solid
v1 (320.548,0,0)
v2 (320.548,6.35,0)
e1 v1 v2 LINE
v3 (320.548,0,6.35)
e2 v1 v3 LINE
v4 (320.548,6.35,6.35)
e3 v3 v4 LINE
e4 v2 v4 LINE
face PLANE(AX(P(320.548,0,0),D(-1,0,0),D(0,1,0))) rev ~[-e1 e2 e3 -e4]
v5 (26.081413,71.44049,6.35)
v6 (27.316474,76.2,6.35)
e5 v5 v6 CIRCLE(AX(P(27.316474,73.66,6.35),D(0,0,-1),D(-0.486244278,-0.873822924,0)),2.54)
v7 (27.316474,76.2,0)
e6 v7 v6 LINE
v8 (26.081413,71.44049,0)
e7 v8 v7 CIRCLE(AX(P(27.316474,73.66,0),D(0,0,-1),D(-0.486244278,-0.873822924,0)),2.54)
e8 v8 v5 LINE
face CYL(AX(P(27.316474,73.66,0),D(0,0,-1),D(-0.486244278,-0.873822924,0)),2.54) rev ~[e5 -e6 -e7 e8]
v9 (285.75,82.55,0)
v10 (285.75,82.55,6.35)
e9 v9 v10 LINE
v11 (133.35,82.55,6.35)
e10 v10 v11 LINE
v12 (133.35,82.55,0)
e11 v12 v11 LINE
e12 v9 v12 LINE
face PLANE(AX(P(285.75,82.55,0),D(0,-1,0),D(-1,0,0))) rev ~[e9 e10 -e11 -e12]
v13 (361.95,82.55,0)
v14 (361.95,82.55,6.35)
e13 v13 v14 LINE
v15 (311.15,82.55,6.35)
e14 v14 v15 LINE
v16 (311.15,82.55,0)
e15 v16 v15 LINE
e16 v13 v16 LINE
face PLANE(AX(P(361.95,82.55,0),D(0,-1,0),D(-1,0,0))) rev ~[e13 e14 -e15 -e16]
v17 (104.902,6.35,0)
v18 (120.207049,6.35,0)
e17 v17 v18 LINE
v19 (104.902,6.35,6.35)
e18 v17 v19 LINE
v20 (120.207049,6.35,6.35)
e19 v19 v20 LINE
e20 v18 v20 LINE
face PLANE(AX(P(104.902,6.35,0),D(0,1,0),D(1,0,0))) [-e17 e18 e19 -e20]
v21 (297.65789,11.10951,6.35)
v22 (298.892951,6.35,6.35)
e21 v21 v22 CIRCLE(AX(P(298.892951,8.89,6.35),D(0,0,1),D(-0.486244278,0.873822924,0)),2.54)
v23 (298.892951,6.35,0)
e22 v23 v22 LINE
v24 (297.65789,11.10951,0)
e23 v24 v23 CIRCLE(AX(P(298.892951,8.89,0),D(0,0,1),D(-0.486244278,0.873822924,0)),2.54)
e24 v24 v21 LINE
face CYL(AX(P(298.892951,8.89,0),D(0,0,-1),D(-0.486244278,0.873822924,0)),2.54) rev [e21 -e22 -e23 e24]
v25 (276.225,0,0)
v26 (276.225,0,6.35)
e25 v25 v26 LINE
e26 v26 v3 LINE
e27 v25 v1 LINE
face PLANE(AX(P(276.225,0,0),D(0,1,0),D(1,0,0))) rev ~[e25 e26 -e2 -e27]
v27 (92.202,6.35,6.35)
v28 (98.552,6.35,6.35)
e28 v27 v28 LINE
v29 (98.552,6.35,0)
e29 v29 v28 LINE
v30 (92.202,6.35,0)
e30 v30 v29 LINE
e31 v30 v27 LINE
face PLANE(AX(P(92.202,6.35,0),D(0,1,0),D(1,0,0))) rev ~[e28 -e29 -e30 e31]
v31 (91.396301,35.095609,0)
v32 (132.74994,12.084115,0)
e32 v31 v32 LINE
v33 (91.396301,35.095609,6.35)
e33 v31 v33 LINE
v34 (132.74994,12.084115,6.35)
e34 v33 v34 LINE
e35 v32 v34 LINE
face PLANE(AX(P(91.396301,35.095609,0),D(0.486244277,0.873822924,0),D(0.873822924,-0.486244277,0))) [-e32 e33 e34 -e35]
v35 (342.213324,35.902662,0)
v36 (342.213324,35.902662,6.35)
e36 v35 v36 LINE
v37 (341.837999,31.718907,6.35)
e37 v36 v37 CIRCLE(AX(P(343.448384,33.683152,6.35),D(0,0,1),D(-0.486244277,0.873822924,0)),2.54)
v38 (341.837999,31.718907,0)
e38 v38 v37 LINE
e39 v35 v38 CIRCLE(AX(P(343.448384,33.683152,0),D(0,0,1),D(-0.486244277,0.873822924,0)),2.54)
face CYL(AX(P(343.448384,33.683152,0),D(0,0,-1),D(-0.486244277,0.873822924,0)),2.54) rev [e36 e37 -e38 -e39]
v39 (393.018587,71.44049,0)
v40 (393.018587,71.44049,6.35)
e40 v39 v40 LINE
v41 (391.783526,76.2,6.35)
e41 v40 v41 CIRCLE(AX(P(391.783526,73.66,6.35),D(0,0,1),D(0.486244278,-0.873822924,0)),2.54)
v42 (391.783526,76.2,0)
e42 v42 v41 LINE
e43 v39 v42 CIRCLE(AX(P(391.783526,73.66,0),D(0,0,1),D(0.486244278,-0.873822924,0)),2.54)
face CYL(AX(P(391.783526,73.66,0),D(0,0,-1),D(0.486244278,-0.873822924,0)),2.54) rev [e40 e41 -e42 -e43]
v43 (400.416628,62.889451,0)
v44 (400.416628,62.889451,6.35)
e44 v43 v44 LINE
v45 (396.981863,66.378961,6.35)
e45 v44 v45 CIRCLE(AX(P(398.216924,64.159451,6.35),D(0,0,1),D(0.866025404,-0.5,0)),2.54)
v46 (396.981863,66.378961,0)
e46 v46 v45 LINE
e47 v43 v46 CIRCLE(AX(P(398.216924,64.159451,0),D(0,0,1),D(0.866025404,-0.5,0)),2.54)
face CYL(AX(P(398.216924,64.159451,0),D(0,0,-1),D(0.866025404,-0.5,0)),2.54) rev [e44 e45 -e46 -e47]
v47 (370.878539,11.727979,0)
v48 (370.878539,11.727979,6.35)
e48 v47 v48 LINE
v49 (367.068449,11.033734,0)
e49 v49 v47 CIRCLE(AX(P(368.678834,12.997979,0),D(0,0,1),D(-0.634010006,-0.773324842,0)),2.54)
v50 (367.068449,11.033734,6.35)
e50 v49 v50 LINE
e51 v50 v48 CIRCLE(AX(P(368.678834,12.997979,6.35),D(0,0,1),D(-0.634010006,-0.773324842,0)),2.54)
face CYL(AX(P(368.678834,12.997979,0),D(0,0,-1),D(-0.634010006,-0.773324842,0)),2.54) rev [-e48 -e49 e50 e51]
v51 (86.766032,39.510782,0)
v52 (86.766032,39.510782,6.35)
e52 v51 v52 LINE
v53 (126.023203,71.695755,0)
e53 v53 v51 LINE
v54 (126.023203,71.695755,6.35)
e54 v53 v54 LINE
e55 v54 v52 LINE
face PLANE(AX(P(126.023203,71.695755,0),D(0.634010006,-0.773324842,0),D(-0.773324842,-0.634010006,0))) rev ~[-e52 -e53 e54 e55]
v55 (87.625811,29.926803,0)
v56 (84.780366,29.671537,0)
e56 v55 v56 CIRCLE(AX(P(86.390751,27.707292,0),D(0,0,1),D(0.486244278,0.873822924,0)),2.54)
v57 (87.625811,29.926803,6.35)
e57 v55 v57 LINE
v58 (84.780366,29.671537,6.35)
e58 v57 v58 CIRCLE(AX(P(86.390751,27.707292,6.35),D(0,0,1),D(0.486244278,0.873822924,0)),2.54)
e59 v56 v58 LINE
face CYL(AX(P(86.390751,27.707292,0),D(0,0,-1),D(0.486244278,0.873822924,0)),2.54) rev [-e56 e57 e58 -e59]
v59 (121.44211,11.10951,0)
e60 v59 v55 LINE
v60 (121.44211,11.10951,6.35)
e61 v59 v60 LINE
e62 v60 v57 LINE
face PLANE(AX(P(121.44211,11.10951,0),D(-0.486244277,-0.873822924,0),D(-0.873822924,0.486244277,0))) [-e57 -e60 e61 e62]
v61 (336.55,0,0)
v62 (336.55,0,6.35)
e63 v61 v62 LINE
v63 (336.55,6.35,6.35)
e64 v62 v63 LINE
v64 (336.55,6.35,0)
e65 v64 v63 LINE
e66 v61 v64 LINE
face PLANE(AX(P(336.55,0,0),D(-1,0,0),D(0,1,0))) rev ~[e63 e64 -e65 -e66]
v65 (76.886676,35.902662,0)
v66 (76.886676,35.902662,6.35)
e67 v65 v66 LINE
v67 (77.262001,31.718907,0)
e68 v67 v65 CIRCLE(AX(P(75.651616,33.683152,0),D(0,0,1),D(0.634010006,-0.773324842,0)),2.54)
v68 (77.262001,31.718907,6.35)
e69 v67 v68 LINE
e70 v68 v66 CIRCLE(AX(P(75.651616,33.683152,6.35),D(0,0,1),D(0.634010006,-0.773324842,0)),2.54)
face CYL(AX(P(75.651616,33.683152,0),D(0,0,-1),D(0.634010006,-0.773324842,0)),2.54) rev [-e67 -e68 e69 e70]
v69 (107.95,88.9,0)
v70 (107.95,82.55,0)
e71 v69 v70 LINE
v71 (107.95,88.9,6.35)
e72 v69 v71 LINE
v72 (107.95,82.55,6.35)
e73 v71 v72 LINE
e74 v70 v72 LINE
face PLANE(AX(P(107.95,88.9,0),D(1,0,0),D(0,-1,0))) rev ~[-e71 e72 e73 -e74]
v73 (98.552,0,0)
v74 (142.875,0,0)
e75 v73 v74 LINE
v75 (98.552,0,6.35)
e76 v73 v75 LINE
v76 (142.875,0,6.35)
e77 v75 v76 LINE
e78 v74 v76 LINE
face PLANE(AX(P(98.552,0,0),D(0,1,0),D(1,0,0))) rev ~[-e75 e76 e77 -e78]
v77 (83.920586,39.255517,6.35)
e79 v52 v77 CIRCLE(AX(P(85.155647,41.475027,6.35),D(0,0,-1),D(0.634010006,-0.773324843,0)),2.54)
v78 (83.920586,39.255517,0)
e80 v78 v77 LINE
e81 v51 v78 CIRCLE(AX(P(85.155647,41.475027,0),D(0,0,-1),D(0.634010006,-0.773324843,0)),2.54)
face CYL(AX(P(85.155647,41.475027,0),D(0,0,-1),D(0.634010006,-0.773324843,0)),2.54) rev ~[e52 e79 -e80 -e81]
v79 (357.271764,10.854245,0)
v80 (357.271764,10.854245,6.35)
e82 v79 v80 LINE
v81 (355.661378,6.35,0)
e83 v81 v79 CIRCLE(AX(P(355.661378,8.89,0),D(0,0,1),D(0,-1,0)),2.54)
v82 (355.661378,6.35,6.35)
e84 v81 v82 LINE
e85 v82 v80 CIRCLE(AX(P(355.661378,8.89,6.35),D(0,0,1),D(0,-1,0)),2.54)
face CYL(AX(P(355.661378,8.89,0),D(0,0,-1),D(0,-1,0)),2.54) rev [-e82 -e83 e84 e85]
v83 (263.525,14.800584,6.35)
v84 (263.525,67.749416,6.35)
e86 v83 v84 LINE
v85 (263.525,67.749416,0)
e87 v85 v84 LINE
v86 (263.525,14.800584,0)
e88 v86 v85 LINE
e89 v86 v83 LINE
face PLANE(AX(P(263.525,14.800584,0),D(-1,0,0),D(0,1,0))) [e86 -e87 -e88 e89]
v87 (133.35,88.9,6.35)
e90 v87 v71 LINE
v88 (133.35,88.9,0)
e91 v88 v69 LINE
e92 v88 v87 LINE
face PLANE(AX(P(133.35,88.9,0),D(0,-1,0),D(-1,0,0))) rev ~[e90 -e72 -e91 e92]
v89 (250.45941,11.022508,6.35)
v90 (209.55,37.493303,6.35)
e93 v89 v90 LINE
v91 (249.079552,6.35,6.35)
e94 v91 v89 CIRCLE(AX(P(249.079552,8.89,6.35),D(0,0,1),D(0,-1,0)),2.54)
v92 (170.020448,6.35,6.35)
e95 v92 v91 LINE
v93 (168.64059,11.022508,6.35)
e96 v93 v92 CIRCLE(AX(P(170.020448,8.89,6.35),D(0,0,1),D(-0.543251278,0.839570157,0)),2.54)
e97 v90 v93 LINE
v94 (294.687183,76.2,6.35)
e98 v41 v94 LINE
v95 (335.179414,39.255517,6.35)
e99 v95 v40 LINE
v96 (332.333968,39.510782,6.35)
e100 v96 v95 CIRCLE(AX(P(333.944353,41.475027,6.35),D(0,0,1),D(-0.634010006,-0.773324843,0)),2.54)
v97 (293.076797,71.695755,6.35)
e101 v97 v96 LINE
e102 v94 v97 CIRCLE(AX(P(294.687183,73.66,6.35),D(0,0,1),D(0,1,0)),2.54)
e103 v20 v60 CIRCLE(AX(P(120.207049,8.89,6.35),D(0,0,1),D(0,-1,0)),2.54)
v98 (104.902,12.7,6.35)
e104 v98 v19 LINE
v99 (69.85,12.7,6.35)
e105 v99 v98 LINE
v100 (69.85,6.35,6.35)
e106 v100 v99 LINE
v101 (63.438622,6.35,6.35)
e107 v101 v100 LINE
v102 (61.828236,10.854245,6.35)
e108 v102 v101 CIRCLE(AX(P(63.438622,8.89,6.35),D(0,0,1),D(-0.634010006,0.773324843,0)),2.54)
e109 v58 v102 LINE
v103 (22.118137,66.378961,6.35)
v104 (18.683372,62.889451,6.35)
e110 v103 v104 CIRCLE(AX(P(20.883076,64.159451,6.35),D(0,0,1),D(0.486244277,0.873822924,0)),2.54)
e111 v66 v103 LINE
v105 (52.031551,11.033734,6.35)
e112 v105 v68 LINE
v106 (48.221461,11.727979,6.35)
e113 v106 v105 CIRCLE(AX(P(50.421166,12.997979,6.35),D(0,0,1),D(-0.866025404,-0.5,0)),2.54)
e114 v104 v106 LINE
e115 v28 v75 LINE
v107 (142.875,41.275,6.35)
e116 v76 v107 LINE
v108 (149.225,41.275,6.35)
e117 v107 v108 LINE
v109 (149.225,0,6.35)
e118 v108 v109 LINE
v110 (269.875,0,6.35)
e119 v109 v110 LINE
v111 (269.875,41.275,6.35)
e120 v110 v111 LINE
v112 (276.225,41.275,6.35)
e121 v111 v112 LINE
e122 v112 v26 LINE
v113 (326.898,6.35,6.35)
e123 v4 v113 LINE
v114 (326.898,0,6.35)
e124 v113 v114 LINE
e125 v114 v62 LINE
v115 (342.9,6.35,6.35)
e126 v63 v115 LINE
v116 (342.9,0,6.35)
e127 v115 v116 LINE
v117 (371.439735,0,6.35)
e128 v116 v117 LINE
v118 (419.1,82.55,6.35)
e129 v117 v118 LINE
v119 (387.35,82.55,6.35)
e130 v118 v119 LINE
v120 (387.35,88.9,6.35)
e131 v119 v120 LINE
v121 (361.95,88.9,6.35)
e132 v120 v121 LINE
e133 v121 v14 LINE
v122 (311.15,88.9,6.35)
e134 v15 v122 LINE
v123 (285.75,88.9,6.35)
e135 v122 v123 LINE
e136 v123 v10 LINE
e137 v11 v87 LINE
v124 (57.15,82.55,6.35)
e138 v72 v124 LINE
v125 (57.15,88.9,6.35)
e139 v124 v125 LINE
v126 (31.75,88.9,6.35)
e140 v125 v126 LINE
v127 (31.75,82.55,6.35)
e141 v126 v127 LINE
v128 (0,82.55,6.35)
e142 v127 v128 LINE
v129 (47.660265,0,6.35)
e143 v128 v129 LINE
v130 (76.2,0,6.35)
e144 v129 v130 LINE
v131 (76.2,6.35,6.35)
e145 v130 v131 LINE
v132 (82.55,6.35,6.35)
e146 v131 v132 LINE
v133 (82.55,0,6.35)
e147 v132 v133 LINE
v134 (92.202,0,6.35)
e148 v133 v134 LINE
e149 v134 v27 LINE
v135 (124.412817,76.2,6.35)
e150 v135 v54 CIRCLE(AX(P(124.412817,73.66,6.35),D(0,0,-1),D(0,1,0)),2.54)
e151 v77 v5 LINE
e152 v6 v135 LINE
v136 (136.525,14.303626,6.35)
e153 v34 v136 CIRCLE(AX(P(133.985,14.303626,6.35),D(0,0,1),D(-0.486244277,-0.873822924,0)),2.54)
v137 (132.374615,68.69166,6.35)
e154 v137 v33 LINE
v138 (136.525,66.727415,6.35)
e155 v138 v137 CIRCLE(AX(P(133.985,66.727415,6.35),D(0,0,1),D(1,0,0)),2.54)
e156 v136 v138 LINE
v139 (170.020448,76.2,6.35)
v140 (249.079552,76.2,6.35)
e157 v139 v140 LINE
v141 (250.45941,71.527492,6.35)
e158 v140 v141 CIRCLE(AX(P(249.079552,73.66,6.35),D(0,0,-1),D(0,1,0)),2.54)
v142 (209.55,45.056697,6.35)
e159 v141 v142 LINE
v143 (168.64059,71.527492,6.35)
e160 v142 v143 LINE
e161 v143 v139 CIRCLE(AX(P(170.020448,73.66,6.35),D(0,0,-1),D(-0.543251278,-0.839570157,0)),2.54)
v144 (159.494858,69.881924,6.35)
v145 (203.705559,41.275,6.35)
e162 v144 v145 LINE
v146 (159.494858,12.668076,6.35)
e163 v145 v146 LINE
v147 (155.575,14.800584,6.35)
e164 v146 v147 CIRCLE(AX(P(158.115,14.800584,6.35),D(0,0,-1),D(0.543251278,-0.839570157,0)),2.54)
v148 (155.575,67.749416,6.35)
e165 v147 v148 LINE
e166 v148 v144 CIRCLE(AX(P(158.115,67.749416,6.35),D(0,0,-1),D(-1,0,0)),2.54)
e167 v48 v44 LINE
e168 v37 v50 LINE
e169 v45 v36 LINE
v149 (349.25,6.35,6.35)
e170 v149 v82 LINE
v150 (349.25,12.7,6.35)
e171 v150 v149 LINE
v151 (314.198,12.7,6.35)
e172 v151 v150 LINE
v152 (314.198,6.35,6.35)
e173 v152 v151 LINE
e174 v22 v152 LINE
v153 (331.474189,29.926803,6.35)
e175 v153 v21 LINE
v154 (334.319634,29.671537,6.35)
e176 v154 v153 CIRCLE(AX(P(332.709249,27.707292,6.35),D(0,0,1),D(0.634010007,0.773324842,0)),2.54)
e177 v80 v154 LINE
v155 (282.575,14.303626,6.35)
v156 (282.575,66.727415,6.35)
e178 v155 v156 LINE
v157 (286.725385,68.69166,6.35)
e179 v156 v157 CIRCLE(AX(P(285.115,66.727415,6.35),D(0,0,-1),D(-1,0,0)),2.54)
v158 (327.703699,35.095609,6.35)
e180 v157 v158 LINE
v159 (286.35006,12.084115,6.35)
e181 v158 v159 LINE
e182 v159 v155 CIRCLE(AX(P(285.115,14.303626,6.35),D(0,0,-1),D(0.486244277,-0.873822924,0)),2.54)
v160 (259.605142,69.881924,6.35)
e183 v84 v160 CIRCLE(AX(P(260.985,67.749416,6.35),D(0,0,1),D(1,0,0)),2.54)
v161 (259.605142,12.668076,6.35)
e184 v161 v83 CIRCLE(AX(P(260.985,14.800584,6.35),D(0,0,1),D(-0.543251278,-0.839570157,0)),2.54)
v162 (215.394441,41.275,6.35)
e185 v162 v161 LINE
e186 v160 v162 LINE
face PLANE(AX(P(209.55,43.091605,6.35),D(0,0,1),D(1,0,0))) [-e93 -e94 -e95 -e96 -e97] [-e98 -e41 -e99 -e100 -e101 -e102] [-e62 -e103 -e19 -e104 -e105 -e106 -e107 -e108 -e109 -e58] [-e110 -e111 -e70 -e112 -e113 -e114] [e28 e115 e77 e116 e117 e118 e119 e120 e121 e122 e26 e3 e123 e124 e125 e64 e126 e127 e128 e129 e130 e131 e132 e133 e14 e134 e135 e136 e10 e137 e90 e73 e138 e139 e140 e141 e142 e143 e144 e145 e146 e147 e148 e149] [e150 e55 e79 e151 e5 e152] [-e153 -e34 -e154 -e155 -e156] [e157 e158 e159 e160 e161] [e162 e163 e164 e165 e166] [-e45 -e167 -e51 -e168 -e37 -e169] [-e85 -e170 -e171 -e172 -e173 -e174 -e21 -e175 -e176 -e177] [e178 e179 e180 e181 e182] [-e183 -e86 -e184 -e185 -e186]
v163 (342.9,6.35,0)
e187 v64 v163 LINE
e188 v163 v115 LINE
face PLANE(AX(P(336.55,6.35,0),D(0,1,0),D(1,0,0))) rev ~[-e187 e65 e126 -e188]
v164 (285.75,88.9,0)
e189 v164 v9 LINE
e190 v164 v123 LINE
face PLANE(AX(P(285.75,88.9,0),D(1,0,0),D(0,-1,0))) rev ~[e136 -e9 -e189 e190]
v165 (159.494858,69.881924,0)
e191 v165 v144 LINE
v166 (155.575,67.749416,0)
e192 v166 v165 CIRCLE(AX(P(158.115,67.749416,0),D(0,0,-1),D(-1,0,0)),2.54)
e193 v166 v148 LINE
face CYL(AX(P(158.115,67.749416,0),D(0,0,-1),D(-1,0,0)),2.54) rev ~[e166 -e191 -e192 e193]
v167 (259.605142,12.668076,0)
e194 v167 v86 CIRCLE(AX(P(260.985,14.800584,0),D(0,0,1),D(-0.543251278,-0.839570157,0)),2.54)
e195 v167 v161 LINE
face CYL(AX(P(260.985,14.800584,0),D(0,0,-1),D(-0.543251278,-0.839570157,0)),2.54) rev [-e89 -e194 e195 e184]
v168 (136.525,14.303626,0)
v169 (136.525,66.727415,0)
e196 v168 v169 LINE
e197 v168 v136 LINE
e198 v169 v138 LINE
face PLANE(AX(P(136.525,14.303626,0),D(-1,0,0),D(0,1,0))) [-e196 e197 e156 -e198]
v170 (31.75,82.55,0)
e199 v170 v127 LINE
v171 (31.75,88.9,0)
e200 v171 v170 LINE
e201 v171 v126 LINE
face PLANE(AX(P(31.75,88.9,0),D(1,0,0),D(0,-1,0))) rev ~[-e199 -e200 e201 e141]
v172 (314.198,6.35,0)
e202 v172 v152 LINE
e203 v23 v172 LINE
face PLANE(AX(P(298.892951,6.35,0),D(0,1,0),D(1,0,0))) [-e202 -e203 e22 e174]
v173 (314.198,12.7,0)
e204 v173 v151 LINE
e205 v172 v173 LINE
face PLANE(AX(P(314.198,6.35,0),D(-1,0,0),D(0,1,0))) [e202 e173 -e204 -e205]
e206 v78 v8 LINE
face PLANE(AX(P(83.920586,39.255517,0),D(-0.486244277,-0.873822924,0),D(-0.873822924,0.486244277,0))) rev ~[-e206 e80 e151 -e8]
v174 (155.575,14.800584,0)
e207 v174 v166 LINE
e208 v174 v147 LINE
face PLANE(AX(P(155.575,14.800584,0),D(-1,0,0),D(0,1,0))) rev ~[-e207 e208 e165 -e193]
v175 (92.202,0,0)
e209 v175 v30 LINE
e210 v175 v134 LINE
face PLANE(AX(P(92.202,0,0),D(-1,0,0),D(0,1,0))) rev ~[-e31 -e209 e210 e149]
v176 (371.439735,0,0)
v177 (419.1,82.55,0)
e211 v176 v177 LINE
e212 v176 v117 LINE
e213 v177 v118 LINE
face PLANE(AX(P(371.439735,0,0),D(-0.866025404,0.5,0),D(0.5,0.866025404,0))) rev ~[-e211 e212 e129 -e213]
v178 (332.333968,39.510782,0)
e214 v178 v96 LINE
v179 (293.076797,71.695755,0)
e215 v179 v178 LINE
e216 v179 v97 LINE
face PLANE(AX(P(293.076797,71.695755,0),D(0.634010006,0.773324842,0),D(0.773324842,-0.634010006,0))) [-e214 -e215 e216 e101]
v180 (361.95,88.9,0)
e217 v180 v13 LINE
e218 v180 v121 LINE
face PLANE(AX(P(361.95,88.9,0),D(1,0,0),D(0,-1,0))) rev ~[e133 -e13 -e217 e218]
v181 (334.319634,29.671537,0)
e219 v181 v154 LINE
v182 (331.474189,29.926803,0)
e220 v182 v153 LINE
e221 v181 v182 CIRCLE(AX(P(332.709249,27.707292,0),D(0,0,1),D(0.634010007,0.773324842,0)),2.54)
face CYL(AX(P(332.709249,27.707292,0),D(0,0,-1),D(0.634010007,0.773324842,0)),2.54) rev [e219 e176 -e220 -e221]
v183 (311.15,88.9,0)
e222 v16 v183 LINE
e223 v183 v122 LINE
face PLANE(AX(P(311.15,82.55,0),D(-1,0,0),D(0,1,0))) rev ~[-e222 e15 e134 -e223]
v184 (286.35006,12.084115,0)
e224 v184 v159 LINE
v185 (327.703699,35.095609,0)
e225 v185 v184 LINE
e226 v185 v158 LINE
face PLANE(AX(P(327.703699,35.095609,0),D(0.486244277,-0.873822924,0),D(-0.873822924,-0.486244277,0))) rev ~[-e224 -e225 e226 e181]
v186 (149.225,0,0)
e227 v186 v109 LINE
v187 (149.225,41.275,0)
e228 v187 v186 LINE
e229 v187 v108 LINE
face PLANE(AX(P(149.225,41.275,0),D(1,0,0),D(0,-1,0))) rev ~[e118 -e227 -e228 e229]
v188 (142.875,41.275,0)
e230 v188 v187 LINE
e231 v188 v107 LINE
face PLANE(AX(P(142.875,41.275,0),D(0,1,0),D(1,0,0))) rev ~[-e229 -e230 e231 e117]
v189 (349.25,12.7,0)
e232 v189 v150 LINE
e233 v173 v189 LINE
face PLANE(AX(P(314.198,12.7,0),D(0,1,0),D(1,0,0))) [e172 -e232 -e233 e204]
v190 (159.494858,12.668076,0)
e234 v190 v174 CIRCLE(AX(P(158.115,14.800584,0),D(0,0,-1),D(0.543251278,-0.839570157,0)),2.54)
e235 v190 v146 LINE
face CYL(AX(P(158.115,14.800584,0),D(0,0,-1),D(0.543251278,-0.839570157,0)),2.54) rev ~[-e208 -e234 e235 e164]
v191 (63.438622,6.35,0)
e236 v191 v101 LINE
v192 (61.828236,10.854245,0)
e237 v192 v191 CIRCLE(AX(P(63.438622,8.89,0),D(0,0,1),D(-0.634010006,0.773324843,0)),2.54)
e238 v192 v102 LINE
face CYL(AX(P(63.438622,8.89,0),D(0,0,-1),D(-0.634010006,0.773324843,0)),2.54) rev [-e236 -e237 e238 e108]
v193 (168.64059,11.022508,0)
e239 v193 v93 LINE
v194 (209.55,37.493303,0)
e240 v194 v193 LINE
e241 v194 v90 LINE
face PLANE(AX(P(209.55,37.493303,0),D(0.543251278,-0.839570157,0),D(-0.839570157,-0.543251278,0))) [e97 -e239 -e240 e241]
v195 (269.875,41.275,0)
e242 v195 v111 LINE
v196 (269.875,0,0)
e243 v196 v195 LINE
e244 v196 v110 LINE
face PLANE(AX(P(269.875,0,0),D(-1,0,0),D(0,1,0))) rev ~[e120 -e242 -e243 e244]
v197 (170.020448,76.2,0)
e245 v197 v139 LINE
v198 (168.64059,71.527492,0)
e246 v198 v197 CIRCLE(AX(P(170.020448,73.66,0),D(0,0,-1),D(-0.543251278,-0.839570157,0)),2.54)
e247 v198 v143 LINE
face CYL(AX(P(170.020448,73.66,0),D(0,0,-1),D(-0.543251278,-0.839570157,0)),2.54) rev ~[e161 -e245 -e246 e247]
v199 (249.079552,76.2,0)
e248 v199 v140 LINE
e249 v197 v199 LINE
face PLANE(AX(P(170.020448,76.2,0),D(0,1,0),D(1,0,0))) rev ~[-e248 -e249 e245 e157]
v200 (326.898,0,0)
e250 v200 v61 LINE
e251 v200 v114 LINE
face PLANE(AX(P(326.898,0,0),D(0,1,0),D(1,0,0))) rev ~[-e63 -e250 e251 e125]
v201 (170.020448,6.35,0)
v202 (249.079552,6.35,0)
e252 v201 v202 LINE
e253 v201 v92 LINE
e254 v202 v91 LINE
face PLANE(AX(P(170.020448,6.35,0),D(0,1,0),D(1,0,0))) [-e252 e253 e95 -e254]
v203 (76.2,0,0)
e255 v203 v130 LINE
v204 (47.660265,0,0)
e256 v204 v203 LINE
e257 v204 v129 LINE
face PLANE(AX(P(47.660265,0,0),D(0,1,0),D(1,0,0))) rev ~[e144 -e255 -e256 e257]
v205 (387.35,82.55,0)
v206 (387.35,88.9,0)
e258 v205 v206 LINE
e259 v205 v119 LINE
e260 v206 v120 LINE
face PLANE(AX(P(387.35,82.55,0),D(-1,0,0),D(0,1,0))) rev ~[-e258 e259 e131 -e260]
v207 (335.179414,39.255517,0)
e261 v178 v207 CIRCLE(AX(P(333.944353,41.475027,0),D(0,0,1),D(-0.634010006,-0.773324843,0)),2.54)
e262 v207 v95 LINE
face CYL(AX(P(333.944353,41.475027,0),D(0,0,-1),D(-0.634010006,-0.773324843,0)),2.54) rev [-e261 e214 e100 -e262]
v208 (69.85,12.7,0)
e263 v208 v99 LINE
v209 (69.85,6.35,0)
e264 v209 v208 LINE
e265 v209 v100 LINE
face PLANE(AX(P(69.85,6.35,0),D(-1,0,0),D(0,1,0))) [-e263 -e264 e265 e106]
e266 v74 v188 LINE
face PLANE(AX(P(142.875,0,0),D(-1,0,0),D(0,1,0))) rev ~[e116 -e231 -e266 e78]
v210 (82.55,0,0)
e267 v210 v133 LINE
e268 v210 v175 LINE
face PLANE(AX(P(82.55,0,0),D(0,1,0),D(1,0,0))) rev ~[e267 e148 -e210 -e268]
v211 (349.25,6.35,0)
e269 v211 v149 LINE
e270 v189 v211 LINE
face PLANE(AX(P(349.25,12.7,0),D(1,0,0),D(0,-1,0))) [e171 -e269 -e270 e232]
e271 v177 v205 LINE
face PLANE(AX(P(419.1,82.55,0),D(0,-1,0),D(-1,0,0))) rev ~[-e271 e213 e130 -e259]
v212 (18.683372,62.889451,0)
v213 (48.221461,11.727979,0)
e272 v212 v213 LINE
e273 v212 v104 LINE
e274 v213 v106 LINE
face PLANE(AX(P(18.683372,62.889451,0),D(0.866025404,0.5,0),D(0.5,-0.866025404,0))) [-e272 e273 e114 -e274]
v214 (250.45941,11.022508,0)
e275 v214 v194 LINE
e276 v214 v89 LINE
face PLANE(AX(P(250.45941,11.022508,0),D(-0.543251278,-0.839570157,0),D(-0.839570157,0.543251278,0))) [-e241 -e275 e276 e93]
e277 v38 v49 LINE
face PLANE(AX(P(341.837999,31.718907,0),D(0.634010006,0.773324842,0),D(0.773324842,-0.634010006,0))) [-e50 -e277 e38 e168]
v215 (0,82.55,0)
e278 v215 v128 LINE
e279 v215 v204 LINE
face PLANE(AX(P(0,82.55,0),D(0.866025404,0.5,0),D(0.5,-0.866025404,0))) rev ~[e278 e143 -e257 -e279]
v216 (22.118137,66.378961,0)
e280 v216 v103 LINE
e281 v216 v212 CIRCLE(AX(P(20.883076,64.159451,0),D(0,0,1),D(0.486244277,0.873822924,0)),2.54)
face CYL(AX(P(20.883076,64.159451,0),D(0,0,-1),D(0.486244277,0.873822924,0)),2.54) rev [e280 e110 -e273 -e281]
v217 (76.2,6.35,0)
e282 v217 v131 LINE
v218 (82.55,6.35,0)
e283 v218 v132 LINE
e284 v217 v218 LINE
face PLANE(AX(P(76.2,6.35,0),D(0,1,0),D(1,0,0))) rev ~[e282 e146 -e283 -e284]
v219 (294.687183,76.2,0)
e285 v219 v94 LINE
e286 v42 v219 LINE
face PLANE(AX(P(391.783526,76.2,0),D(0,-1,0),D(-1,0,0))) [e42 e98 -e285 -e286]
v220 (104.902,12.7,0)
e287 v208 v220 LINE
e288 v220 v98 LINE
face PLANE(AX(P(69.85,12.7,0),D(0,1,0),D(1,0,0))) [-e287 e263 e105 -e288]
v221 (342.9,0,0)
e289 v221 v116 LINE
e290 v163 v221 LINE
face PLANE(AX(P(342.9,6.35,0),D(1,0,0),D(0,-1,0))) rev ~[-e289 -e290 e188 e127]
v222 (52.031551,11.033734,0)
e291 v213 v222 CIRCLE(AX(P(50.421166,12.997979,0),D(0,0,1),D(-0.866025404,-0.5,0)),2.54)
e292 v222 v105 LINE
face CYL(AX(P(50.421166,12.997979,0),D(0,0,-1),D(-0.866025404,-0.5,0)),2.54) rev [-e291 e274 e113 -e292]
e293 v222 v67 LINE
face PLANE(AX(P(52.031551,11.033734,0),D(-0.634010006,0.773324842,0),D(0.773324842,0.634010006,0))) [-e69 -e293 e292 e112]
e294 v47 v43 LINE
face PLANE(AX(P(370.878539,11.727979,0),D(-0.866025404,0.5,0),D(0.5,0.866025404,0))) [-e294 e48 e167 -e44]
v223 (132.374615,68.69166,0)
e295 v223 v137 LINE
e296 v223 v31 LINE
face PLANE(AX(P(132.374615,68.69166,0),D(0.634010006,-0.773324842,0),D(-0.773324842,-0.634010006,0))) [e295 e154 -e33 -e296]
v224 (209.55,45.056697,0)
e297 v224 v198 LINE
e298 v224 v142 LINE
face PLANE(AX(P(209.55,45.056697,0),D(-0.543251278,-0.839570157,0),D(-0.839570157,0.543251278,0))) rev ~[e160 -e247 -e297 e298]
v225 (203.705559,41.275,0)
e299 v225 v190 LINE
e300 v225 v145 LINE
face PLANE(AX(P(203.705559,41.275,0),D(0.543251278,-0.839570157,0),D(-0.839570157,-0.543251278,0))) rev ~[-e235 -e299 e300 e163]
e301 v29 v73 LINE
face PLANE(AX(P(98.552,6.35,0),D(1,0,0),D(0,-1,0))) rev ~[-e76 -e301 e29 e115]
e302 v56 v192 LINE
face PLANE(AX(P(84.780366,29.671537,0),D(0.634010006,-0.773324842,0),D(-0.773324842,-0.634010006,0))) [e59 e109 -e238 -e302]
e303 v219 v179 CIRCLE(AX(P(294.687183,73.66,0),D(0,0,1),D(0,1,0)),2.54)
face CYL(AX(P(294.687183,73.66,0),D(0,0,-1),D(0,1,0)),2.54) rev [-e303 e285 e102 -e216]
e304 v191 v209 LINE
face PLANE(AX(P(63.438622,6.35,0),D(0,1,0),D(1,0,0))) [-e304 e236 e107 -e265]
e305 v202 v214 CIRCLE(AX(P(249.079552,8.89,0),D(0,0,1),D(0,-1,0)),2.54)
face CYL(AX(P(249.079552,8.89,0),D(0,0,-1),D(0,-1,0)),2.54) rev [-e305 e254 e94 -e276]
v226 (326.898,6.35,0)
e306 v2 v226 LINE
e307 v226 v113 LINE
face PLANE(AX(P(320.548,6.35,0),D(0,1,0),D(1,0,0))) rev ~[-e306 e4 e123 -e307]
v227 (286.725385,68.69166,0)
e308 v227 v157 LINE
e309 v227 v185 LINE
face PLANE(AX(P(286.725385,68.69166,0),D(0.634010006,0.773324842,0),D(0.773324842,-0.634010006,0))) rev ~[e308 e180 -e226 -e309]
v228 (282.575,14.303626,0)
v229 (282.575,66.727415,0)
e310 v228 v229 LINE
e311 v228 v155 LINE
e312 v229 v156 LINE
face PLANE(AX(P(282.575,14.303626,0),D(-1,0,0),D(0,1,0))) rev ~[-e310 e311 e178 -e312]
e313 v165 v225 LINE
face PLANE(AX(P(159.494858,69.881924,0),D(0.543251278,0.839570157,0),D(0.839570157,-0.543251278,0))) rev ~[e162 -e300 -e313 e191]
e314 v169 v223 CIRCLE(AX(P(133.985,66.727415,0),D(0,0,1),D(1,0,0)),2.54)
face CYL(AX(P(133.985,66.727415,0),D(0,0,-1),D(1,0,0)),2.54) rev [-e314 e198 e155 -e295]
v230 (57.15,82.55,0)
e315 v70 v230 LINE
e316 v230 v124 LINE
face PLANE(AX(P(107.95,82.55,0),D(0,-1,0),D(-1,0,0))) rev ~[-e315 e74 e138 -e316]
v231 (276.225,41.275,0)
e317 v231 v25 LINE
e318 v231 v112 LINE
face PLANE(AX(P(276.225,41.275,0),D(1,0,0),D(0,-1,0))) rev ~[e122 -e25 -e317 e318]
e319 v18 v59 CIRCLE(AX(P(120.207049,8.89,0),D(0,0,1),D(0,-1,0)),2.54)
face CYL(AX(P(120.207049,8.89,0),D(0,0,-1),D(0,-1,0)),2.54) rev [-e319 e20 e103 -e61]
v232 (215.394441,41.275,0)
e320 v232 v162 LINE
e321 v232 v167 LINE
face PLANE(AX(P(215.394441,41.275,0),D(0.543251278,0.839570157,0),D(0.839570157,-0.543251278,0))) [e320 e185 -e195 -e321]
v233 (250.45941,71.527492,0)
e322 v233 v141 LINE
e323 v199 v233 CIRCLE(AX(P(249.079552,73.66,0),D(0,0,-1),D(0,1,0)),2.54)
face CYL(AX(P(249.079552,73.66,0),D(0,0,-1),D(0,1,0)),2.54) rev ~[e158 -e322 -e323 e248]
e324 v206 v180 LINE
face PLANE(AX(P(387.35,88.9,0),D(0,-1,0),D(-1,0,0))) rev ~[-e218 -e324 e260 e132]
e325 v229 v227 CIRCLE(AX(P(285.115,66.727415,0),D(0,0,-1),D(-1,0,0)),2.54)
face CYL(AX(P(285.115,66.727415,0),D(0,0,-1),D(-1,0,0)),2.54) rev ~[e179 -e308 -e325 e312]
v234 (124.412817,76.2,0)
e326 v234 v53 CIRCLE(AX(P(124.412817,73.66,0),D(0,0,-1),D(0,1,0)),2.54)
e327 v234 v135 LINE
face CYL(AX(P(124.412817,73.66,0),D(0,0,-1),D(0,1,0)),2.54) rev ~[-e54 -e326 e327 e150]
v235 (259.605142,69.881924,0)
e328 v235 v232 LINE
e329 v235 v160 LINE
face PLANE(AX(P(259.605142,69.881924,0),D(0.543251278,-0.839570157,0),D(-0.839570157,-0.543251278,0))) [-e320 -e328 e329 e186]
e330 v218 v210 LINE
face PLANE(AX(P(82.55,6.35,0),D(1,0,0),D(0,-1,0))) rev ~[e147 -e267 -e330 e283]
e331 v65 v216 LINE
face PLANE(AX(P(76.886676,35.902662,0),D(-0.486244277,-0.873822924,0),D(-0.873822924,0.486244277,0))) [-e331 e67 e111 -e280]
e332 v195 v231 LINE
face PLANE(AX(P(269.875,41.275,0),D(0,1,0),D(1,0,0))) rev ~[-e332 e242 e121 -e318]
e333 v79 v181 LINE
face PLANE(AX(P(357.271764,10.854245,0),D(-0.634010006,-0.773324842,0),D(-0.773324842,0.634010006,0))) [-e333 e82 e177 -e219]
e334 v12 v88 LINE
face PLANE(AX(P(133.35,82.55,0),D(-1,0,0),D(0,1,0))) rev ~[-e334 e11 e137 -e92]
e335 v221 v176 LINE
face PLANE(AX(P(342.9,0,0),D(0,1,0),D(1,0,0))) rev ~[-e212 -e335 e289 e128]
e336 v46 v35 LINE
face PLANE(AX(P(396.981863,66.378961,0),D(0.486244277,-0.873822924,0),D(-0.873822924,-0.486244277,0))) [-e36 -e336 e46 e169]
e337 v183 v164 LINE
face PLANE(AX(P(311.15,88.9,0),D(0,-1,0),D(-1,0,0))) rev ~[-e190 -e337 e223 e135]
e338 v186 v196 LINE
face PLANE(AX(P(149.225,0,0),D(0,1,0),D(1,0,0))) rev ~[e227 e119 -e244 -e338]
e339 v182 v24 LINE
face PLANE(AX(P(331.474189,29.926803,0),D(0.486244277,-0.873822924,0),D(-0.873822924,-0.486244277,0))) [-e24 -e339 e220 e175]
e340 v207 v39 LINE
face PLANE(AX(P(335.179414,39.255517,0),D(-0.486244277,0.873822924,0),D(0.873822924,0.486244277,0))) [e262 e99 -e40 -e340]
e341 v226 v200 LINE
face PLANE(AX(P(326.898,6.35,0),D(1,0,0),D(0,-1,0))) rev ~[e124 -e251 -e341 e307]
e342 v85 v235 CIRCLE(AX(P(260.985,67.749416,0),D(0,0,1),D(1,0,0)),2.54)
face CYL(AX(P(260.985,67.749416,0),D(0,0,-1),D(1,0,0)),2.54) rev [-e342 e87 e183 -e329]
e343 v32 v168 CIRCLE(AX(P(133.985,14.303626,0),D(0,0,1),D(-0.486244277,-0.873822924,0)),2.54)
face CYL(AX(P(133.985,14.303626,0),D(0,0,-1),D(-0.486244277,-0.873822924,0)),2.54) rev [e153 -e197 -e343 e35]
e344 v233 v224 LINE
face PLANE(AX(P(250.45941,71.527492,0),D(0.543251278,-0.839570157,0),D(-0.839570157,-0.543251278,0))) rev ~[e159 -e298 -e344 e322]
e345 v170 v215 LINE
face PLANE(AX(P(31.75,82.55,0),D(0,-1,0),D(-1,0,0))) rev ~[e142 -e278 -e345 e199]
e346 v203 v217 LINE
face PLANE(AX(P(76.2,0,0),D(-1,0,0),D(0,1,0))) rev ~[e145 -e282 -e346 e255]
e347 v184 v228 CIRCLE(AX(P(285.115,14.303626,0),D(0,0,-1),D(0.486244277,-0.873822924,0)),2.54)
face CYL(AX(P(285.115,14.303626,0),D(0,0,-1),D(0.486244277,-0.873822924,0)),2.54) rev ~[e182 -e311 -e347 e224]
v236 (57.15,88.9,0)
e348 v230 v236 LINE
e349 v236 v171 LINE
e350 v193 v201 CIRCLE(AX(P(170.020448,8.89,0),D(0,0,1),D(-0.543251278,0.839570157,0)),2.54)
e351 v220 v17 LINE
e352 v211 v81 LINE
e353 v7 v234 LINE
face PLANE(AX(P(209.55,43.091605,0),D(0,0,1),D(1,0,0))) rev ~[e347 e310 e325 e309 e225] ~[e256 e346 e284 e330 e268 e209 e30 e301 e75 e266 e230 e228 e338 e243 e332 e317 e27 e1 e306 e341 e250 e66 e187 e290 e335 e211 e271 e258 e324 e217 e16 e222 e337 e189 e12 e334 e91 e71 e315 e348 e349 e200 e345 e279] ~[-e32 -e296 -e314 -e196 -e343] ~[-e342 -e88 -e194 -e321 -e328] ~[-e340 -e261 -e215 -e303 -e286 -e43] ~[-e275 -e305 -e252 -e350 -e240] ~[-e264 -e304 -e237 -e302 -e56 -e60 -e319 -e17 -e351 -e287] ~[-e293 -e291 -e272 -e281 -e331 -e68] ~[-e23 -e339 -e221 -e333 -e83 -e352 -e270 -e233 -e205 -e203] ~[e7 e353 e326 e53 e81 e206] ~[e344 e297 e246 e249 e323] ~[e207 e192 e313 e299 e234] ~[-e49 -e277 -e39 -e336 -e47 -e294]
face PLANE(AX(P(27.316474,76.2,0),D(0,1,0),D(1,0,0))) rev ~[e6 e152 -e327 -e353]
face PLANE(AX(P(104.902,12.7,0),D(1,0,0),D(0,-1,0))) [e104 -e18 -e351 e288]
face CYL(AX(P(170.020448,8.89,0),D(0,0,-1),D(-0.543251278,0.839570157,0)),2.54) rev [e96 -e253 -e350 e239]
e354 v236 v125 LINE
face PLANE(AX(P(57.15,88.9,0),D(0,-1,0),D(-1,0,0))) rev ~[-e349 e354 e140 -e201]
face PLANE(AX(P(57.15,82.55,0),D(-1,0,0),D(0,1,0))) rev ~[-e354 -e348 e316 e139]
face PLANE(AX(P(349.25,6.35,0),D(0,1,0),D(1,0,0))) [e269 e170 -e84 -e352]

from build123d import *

# Parameters (mm, degrees)
EXTRUDE2_DEPTH = 6.35


with BuildPart() as part:
    # Sketch1 → Extrude2 (new body)
    with BuildSketch(Plane.XY):
        Polygon((47.660264722, 0), (76.2, 0), (76.2, 6.35), (82.55, 6.35), (82.55, 0), (92.202, 0), (92.202, 6.35), (98.552, 6.35), (98.552, 0), (142.875, 0), (142.875, 41.275), (149.225, 41.275), (149.225, 0), (209.55, 0), (269.875, 0), (269.875, 41.275), (276.225, 41.275), (276.225, 0), (320.548, 0), (320.548, 6.35), (326.898, 6.35), (326.898, 0), (336.55, 0), (336.55, 6.35), (342.9, 6.35), (342.9, 0), (371.439735278, 0), (419.1, 82.55), (387.35, 82.55), (387.35, 88.9), (361.95, 88.9), (361.95, 82.55), (311.15, 82.55), (311.15, 88.9), (285.75, 88.9), (285.75, 82.55), (209.55, 82.55), (133.35, 82.55), (133.35, 88.9), (107.95, 88.9), (107.95, 82.55), (57.15, 82.55), (57.15, 88.9), (31.75, 88.9), (31.75, 82.55), (0, 82.55), align=None)
        with BuildLine():
            Line((170.020448202, 6.35), (249.079551798, 6.35))
            ThreePointArc((249.079551798, 6.35), (251.515549625, 8.170615133), (250.459410045, 11.022508199))
            Line((250.459410045, 11.022508199), (209.55, 37.493302934))
            Line((209.55, 37.493302934), (168.640589955, 11.022508199))
            ThreePointArc((168.640589955, 11.022508199), (167.584450375, 8.170615133), (170.020448202, 6.35))
        make_face(mode=Mode.SUBTRACT)
        with BuildLine():
            Line((155.575, 14.800584131), (155.575, 67.749415869))
            ThreePointArc((155.575, 67.749415869), (156.901171335, 69.98060837), (159.494858247, 69.881924069))
            Line((159.494858247, 69.881924069), (203.70555908, 41.275))
            Line((203.70555908, 41.275), (159.494858247, 12.668075931))
            ThreePointArc((159.494858247, 12.668075931), (156.901171335, 12.56939163), (155.575, 14.800584131))
        make_face(mode=Mode.SUBTRACT)
        with BuildLine():
            Line((170.020448202, 76.2), (249.079551798, 76.2))
            ThreePointArc((249.079551798, 76.2), (251.515549625, 74.379384867), (250.459410045, 71.527491801))
            Line((250.459410045, 71.527491801), (209.55, 45.056697066))
            Line((209.55, 45.056697066), (168.640589955, 71.527491801))
            ThreePointArc((168.640589955, 71.527491801), (167.584450375, 74.379384867), (170.020448202, 76.2))
        make_face(mode=Mode.SUBTRACT)
        with BuildLine():
            Line((136.525, 14.303625696), (136.525, 66.727414853))
            ThreePointArc((136.525, 66.727414853), (135.071559028, 69.023278411), (132.374614584, 68.691659953))
            Line((132.374614584, 68.691659953), (91.396300636, 35.095608642))
            Line((91.396300636, 35.095608642), (132.749939536, 12.084115469))
            ThreePointArc((132.749939536, 12.084115469), (135.272351238, 12.114030576), (136.525, 14.303625696))
        make_face(mode=Mode.SUBTRACT)
        with BuildLine():
            Line((104.902, 6.35), (120.207049127, 6.35))
            ThreePointArc((120.207049127, 6.35), (122.665621474, 8.252017233), (121.442109591, 11.109510228))
            Line((121.442109591, 11.109510228), (87.625811497, 29.926802573))
            ThreePointArc((87.625811497, 29.926802573), (86.163798888, 30.2371328), (84.780365617, 29.671537445))
            Line((84.780365617, 29.671537445), (61.828236325, 10.8542451))
            ThreePointArc((61.828236325, 10.8542451), (61.046887793, 8.034892566), (63.438621741, 6.35))
            Line((63.438621741, 6.35), (69.85, 6.35))
            Line((69.85, 6.35), (69.85, 12.7))
            Line((69.85, 12.7), (104.902, 12.7))
            Line((104.902, 12.7), (104.902, 6.35))
        make_face(mode=Mode.SUBTRACT)
        with BuildLine():
            Line((18.683371551, 62.889451217), (48.221461062, 11.727979426))
            ThreePointArc((48.221461062, 11.727979426), (49.965843374, 10.499123351), (52.031551003, 11.033734326))
            Line((52.031551003, 11.033734326), (77.262001053, 31.718906867))
            ThreePointArc((77.262001053, 31.718906867), (78.181456091, 33.910104112), (76.886676101, 35.902662194))
            Line((76.886676101, 35.902662194), (22.118136541, 66.378961445))
            ThreePointArc((22.118136541, 66.378961445), (19.07288135, 65.941246674), (18.683371551, 62.889451217))
        make_face(mode=Mode.SUBTRACT)
        with BuildLine():
            Line((27.316473501, 76.2), (124.41281719, 76.2))
            ThreePointArc((124.41281719, 76.2), (126.804551138, 74.515107434), (126.023202606, 71.6957549))
            Line((126.023202606, 71.6957549), (86.766032084, 39.510782213))
            ThreePointArc((86.766032084, 39.510782213), (85.382598814, 38.945186859), (83.920586204, 39.255517086))
            Line((83.920586204, 39.255517086), (26.081413037, 71.440489772))
            ThreePointArc((26.081413037, 71.440489772), (24.857901154, 74.297982767), (27.316473501, 76.2))
        make_face(mode=Mode.SUBTRACT)
        with BuildLine():
            Line((331.474188503, 29.926802573), (297.657890409, 11.109510228))
            ThreePointArc((297.657890409, 11.109510228), (296.434378526, 8.252017233), (298.892950873, 6.35))
            Line((298.892950873, 6.35), (314.198, 6.35))
            Line((314.198, 6.35), (314.198, 12.7))
            Line((314.198, 12.7), (349.25, 12.7))
            Line((349.25, 12.7), (349.25, 6.35))
            Line((349.25, 6.35), (355.661378259, 6.35))
            ThreePointArc((355.661378259, 6.35), (358.053112207, 8.034892566), (357.271763675, 10.8542451))
            Line((357.271763675, 10.8542451), (334.319634383, 29.671537445))
            ThreePointArc((334.319634383, 29.671537445), (332.936201112, 30.2371328), (331.474188503, 29.926802573))
        make_face(mode=Mode.SUBTRACT)
        with BuildLine():
            Line((327.703699364, 35.095608642), (286.350060464, 12.084115469))
            ThreePointArc((286.350060464, 12.084115469), (283.827648762, 12.114030576), (282.575, 14.303625696))
            Line((282.575, 14.303625696), (282.575, 66.727414853))
            ThreePointArc((282.575, 66.727414853), (284.028440972, 69.023278411), (286.725385416, 68.691659953))
            Line((286.725385416, 68.691659953), (327.703699364, 35.095608642))
        make_face(mode=Mode.SUBTRACT)
        with BuildLine():
            Line((341.837998947, 31.718906867), (367.068448997, 11.033734326))
            ThreePointArc((367.068448997, 11.033734326), (369.134156626, 10.499123351), (370.878538938, 11.727979426))
            Line((370.878538938, 11.727979426), (400.416628449, 62.889451217))
            ThreePointArc((400.416628449, 62.889451217), (400.02711865, 65.941246674), (396.981863459, 66.378961445))
            Line((396.981863459, 66.378961445), (342.213323899, 35.902662194))
            ThreePointArc((342.213323899, 35.902662194), (340.918543909, 33.910104112), (341.837998947, 31.718906867))
        make_face(mode=Mode.SUBTRACT)
        with BuildLine():
            Line((259.605141753, 69.881924069), (215.39444092, 41.275))
            Line((215.39444092, 41.275), (259.605141753, 12.668075931))
            ThreePointArc((259.605141753, 12.668075931), (262.198828665, 12.56939163), (263.525, 14.800584131))
            Line((263.525, 14.800584131), (263.525, 67.749415869))
            ThreePointArc((263.525, 67.749415869), (262.198828665, 69.98060837), (259.605141753, 69.881924069))
        make_face(mode=Mode.SUBTRACT)
        with BuildLine():
            Line((293.076797394, 71.6957549), (332.333967916, 39.510782213))
            ThreePointArc((332.333967916, 39.510782213), (333.717401186, 38.945186859), (335.179413796, 39.255517086))
            Line((335.179413796, 39.255517086), (393.018586963, 71.440489772))
            ThreePointArc((393.018586963, 71.440489772), (394.242098846, 74.297982767), (391.783526499, 76.2))
            Line((391.783526499, 76.2), (294.68718281, 76.2))
            ThreePointArc((294.68718281, 76.2), (292.295448862, 74.515107434), (293.076797394, 71.6957549))
        make_face(mode=Mode.SUBTRACT)
    extrude(amount=EXTRUDE2_DEPTH)


solid = part.part
